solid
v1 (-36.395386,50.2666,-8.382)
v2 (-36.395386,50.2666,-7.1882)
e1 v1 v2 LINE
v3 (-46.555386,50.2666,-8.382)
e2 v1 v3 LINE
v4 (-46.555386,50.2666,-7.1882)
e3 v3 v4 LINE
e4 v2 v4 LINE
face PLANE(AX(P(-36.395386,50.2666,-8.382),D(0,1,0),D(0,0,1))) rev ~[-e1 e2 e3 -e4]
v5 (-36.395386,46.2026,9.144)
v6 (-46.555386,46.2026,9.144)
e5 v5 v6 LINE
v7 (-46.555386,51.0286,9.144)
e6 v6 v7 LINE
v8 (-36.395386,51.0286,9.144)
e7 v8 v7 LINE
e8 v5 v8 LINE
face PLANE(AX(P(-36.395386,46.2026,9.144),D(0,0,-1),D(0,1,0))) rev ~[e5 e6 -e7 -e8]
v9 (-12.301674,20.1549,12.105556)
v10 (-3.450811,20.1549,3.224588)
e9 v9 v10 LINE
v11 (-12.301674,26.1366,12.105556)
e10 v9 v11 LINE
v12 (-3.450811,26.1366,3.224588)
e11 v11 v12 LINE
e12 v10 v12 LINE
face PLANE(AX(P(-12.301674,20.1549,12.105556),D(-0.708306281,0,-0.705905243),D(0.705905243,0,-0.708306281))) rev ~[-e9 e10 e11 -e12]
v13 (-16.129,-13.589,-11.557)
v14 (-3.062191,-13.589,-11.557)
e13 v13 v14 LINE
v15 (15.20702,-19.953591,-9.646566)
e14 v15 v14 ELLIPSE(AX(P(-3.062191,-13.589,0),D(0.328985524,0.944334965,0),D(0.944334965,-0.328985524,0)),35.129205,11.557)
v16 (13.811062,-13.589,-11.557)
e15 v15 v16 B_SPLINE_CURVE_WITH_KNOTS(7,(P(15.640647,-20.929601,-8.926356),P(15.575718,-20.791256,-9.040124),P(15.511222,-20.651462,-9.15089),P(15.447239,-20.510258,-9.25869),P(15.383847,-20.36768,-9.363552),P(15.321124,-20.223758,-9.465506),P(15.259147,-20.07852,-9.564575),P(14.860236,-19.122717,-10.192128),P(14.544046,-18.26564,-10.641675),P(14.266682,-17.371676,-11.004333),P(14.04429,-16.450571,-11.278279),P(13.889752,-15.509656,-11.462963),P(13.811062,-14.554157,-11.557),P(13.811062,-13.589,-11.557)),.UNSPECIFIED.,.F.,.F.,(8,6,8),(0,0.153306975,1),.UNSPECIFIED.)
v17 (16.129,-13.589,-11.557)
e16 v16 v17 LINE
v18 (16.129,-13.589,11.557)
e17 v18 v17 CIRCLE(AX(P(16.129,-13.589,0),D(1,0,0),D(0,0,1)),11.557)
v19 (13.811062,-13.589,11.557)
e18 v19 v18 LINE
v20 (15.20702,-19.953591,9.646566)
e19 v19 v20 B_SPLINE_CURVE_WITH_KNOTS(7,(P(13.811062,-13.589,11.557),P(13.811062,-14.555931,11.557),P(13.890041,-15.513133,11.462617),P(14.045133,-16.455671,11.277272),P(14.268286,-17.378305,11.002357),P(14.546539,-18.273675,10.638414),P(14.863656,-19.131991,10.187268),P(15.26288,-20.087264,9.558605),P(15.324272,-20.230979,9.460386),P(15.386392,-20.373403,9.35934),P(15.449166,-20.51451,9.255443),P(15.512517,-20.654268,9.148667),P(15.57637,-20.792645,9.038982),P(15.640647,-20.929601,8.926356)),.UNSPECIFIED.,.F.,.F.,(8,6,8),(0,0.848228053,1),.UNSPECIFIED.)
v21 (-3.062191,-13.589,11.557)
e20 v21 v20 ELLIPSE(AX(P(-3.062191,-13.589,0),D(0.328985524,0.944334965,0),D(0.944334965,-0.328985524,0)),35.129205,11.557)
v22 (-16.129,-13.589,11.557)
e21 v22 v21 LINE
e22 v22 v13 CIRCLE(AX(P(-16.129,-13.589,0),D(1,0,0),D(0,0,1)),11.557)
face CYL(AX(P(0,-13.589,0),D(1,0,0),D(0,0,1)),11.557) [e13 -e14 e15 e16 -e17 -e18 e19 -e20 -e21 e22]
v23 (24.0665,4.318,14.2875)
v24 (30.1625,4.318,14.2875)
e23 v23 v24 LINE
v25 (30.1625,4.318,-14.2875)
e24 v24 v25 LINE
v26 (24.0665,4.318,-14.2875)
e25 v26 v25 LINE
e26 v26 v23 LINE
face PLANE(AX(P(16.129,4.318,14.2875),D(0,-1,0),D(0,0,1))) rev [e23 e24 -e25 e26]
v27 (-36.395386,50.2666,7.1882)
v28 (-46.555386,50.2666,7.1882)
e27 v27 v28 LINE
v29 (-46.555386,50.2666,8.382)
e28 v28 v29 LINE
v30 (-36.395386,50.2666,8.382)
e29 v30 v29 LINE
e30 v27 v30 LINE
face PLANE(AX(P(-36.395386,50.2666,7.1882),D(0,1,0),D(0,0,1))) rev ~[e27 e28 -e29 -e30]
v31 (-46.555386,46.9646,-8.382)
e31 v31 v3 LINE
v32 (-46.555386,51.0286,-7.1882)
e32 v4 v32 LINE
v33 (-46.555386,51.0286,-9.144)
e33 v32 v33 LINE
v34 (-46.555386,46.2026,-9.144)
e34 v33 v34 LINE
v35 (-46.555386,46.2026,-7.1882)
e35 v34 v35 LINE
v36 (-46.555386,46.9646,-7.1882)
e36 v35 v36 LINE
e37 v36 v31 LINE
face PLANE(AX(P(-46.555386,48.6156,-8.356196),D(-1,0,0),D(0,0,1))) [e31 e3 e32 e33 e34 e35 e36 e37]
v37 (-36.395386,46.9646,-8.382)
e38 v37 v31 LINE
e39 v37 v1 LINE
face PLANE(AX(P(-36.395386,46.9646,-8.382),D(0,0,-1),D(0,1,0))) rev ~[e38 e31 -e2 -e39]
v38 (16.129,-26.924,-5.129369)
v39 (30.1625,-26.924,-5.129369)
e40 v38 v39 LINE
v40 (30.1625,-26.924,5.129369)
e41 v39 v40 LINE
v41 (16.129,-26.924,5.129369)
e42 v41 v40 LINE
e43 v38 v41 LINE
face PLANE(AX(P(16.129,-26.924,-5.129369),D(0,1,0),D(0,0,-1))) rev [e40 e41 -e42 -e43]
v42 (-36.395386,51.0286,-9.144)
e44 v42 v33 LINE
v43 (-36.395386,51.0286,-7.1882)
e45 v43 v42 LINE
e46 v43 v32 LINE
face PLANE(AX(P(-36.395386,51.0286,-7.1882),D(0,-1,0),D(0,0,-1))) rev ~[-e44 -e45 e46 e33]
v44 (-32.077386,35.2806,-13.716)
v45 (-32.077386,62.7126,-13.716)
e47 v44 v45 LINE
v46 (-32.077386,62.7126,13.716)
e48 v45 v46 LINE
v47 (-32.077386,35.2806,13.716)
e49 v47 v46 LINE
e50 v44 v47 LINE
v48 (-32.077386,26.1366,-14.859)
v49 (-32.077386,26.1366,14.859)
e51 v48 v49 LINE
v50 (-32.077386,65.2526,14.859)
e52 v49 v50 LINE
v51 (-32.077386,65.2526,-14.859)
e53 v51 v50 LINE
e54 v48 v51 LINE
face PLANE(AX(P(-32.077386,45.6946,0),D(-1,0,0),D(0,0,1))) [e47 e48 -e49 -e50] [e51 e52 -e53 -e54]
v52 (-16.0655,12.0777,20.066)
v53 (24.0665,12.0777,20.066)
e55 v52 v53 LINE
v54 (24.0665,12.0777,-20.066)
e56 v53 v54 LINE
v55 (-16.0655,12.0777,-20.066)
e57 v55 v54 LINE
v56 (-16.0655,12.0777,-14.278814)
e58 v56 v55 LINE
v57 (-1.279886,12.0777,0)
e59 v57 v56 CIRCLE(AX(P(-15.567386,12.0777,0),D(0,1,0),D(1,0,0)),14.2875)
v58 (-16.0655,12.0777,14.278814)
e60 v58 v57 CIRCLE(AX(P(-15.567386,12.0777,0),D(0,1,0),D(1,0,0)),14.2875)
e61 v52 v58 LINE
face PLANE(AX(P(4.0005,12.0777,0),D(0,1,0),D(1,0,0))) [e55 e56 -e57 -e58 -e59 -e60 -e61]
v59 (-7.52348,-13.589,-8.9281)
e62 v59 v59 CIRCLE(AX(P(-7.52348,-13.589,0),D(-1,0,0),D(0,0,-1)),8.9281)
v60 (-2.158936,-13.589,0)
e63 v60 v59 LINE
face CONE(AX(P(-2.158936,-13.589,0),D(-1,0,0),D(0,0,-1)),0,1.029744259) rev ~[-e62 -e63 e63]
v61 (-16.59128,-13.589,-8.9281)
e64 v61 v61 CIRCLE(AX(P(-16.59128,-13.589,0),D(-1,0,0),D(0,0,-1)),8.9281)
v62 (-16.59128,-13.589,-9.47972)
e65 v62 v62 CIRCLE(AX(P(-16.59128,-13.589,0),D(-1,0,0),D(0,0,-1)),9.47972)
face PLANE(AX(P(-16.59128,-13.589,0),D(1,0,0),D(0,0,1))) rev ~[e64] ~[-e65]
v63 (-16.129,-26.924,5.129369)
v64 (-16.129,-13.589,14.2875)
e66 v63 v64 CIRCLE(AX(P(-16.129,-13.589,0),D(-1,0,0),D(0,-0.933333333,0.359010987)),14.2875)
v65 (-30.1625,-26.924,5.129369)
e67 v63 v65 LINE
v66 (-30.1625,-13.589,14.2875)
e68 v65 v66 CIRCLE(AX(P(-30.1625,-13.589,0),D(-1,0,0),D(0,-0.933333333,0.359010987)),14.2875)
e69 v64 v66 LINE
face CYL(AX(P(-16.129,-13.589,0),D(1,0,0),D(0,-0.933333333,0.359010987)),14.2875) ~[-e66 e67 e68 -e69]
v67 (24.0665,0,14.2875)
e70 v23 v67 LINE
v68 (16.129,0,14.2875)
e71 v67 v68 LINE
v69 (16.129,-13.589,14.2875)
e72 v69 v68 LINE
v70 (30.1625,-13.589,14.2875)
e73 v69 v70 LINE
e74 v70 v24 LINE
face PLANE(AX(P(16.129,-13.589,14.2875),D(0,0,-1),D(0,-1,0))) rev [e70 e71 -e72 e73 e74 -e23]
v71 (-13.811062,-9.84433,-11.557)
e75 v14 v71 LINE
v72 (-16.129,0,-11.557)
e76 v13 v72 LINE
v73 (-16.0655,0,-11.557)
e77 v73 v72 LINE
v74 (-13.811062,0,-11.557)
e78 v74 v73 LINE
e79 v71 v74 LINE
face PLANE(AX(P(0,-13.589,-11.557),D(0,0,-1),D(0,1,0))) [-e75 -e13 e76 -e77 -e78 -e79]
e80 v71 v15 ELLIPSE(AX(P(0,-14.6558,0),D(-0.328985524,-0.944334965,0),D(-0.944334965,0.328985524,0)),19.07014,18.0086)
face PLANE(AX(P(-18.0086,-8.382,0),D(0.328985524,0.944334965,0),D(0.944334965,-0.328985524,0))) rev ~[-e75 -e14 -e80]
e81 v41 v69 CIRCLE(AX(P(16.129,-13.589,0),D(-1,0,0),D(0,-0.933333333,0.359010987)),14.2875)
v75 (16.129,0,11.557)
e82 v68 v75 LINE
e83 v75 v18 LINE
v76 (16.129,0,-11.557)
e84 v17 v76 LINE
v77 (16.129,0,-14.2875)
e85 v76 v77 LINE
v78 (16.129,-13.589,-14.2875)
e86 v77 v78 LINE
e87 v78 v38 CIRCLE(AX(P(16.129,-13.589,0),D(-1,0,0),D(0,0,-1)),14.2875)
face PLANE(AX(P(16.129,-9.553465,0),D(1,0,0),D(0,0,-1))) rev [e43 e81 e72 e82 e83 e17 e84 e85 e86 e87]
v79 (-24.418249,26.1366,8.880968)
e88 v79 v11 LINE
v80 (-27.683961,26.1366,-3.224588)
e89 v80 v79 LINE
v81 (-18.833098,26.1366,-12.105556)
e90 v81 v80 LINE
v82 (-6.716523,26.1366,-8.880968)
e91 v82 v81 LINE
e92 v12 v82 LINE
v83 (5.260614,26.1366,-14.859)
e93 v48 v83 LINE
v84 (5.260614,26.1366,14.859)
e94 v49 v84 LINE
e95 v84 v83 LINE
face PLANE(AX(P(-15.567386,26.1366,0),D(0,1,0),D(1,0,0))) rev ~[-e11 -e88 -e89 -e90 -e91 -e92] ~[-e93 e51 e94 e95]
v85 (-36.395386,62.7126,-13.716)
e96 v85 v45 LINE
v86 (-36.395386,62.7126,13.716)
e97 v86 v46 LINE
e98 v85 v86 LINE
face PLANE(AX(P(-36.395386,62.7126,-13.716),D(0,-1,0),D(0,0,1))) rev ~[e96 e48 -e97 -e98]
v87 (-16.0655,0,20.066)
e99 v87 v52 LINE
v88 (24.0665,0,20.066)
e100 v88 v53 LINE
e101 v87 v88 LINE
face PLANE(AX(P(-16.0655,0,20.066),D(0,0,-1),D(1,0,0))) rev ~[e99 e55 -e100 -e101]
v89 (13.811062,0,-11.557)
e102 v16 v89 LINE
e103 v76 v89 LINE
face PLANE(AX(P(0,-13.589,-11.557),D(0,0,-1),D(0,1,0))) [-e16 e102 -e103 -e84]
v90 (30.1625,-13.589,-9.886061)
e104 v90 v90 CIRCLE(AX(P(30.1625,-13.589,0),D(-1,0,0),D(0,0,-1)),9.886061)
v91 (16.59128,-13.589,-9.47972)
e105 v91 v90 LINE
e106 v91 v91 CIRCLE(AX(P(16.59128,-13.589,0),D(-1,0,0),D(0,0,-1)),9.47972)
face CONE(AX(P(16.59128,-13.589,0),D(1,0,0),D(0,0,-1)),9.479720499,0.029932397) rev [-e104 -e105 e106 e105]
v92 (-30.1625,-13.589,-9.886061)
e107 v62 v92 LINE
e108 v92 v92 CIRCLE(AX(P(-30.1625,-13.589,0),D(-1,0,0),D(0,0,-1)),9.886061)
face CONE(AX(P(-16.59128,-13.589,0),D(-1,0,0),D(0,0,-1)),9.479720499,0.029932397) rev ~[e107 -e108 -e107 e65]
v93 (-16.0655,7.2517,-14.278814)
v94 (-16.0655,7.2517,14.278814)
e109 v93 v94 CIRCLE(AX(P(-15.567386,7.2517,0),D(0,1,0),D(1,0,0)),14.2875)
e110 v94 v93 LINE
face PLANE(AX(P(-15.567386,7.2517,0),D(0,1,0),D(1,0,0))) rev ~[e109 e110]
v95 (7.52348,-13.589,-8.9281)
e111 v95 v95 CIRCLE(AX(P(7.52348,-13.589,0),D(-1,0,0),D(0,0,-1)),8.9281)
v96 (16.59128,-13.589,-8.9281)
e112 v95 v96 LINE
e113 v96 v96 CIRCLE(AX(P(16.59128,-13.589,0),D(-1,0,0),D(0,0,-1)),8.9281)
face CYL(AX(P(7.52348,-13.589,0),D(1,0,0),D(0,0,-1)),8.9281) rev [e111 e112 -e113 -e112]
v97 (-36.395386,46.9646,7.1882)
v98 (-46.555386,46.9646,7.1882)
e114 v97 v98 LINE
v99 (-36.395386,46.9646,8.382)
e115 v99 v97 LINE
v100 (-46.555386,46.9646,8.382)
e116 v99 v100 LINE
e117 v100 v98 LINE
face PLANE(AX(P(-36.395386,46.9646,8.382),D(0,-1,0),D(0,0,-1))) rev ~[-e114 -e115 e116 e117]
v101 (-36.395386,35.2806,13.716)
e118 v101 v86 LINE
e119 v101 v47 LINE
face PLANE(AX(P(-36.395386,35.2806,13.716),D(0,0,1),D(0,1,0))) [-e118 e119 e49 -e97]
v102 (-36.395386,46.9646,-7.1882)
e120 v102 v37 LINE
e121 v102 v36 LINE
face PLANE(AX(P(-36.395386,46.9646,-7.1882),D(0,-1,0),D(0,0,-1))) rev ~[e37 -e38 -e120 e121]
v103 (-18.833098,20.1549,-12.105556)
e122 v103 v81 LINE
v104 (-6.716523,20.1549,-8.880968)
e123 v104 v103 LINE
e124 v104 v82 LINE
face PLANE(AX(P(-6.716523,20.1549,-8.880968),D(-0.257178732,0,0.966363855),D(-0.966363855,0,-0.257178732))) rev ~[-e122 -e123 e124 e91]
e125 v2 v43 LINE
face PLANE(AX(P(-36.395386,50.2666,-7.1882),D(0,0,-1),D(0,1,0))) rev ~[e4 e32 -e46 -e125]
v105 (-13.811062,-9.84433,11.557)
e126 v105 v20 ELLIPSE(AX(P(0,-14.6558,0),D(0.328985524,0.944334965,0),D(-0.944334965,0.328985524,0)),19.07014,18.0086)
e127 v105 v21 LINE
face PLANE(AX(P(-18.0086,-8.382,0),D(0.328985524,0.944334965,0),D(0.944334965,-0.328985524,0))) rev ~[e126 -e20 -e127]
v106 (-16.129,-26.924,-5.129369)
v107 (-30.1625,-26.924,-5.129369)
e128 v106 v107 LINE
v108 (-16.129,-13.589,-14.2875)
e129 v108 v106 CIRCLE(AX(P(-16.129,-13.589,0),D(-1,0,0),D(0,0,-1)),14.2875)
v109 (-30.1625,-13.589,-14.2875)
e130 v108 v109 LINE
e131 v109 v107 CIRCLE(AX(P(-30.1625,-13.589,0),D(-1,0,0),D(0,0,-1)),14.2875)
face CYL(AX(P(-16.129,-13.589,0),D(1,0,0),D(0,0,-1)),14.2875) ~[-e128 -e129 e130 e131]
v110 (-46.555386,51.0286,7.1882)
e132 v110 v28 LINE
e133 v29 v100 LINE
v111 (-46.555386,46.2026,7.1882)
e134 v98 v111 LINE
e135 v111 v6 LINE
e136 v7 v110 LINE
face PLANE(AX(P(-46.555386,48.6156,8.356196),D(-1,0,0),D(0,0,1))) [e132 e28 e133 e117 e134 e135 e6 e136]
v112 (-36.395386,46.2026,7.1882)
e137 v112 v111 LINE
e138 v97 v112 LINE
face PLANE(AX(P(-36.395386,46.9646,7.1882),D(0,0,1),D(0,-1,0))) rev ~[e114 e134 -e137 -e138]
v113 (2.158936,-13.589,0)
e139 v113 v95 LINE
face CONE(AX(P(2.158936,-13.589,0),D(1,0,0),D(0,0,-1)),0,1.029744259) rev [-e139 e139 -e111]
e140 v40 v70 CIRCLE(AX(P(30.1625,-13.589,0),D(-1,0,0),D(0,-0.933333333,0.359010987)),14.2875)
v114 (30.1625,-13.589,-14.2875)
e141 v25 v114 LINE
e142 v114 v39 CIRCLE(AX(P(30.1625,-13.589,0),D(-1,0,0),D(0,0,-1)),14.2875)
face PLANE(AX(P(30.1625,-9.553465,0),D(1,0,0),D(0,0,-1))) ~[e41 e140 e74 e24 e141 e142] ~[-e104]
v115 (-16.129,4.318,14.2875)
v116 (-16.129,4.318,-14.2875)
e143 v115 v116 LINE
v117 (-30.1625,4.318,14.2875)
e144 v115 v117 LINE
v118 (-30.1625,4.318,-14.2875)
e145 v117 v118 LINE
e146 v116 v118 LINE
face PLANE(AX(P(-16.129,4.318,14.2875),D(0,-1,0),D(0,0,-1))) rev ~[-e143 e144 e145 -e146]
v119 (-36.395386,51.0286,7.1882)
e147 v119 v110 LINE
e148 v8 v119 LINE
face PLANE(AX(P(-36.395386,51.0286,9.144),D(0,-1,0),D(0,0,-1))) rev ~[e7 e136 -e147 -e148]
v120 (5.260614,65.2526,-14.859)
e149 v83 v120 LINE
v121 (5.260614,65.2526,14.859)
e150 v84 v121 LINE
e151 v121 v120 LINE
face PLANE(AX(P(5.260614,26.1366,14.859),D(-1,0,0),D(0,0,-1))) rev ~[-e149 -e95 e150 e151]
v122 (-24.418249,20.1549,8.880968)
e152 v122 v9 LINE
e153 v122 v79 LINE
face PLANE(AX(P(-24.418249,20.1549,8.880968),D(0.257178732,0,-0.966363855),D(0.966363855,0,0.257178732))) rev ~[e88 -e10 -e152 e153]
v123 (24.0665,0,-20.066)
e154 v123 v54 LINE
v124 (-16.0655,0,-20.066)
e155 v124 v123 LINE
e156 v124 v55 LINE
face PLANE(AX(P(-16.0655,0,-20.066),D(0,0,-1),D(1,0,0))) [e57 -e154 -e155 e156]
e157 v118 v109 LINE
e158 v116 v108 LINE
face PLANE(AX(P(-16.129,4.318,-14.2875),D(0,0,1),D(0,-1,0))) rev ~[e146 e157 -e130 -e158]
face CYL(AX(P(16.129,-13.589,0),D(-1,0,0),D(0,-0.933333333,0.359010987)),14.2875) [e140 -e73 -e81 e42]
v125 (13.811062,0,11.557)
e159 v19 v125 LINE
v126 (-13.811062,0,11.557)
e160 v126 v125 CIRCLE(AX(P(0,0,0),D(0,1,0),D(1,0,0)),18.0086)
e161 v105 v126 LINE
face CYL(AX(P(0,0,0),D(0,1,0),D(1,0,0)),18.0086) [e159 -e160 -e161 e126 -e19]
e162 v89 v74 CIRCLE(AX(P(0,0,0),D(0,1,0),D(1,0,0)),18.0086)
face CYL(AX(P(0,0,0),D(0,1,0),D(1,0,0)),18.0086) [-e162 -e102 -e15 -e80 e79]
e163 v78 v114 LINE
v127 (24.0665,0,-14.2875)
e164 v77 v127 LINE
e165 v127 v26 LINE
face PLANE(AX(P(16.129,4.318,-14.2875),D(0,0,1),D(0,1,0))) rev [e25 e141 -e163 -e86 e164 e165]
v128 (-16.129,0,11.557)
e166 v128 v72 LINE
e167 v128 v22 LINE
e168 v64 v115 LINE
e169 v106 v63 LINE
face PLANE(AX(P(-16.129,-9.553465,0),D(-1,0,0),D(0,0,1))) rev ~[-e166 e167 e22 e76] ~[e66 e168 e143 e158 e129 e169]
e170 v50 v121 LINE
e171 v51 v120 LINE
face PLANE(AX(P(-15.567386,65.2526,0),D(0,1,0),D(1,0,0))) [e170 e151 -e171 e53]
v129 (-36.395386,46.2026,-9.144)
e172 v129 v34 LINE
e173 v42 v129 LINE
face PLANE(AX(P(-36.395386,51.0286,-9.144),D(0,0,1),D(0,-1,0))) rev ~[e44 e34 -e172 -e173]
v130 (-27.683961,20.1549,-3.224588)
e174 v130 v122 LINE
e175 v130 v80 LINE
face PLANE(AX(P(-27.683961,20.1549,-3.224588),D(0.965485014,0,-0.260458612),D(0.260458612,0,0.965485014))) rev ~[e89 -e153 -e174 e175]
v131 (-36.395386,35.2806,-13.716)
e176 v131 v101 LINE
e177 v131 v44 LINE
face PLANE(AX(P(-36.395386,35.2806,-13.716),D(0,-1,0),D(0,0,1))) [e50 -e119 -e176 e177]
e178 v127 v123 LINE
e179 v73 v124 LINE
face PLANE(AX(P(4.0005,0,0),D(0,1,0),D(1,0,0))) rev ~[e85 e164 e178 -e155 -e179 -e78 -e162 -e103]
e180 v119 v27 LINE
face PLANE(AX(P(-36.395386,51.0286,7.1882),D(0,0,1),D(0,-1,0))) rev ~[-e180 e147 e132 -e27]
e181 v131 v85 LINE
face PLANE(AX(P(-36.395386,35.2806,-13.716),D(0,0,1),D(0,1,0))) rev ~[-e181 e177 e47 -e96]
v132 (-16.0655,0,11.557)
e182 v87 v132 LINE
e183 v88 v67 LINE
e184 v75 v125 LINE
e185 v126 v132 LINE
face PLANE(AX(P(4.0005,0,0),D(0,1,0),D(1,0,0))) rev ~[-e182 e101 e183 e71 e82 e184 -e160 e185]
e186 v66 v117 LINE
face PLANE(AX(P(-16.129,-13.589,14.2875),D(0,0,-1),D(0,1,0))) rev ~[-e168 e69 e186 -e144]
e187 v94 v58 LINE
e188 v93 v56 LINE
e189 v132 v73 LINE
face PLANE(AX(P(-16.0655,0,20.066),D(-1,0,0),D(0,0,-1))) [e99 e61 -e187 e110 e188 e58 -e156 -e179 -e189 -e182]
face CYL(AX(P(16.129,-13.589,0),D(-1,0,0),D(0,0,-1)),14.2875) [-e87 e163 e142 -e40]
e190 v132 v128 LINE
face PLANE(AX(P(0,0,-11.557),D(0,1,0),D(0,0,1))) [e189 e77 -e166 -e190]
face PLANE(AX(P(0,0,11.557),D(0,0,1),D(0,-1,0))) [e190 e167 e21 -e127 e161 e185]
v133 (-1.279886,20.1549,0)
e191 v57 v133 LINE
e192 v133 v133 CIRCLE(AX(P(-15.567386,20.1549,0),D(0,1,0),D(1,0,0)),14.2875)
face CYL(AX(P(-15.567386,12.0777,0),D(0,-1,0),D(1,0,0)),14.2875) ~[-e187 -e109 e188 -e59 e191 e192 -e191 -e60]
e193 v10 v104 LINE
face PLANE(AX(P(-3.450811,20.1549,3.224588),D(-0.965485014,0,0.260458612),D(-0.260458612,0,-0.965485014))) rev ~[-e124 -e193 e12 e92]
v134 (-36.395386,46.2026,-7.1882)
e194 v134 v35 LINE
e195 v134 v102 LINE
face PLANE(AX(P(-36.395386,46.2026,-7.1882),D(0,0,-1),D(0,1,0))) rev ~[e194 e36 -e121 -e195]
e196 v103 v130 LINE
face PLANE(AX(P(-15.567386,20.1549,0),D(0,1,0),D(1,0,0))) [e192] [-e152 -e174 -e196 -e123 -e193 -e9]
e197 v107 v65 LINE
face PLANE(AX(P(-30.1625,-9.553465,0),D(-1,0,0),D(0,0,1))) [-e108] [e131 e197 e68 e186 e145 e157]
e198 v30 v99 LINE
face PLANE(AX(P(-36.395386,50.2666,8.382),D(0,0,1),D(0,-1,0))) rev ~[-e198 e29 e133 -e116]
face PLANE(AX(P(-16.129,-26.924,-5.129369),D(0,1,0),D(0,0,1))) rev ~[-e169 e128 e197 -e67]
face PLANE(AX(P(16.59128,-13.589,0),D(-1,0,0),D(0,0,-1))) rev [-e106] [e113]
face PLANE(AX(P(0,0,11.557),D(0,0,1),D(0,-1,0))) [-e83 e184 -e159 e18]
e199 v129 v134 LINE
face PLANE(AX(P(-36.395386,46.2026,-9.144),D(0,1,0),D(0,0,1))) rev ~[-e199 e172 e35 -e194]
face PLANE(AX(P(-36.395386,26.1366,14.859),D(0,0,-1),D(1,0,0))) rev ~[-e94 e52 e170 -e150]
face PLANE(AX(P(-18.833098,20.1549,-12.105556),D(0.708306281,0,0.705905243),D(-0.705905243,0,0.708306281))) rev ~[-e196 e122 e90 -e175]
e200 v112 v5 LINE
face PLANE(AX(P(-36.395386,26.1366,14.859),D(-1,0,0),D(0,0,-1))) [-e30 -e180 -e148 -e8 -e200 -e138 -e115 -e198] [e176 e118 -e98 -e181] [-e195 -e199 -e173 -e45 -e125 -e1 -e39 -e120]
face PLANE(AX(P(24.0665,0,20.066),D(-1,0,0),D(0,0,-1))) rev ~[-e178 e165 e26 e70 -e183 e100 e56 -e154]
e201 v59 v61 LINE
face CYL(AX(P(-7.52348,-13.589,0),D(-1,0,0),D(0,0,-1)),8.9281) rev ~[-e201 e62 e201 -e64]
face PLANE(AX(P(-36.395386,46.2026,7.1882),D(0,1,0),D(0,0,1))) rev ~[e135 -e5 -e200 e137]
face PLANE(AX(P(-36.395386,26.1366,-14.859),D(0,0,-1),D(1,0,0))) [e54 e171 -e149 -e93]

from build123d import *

# Parameters (mm, degrees)
SKETCH1_R                = 18.0086
BOSS_EXTRUDE1_DEPTH      = 20.9296
CUT_EXTRUDE1_DEPTH       = 19.0086
CUT_EXTRUDE1_DEPTH_BACK  = 19.0086
BOSS_EXTRUDE2_DEPTH      = 16.129
BOSS_EXTRUDE3_DEPTH      = 14.0335
SKETCH6_W                = 40.132
SKETCH6_H                = 40.132
BOSS_EXTRUDE4_DEPTH      = 12.0777
SKETCH7_R                = 14.2875
BOSS_EXTRUDE5_DEPTH      = 8.0772
BOSS_EXTRUDE5_DEPTH_BACK = 4.826
BOSS_EXTRUDE6_DEPTH      = 5.9817
SKETCH11_W               = 41.656
SKETCH11_H               = 29.718
BOSS_EXTRUDE7_DEPTH      = 39.116
SKETCH12_W               = 29.718
SKETCH12_H               = 39.116
SKETCH12_W_2             = 27.432
SKETCH12_H_2             = 27.432
CUT_EXTRUDE2_DEPTH       = 4.318
BOSS_EXTRUDE8_DEPTH      = 10.16


with BuildPart() as part:
    # Sketch1 → Boss-Extrude1 (new body)
    with BuildSketch(Plane(origin=(0, 0, 0), x_dir=(1, 0, 0), z_dir=(0, 1, 0))):
        Circle(SKETCH1_R)
    extrude(amount=-BOSS_EXTRUDE1_DEPTH)

    # Sketch2 → Cut-Extrude1 (cut, two sides)
    with BuildSketch(Plane.XY) as cut_extrude1_sk:
        Polygon((-18.0086, -8.382), (18.0086, -20.9296), (-18.0086, -20.9296), align=None)
    extrude(amount=CUT_EXTRUDE1_DEPTH, mode=Mode.SUBTRACT)
    extrude(cut_extrude1_sk.sketch, amount=-CUT_EXTRUDE1_DEPTH_BACK, mode=Mode.SUBTRACT)

    # Sketch3 → Boss-Extrude2 (add, symmetric)
    with BuildSketch(Plane(origin=(0, 0, 0), x_dir=(0, 0, -1), z_dir=(1, 0, 0))):
        with BuildLine():
            Line((-11.557, 0), (-11.557, -13.589))
            ThreePointArc((-11.557, -13.589), (0, -25.146), (11.557, -13.589))
            Line((11.557, -13.589), (11.557, 0))
            Line((11.557, 0), (-11.557, 0))
        make_face()
    extrude(amount=BOSS_EXTRUDE2_DEPTH, both=True)

    # Sketch5 → Boss-Extrude3 (add)
    with BuildSketch(Plane.ZY.offset(16.129)):
        with BuildLine():
            Line((-14.2875, 4.318), (-14.2875, -13.589))
            ThreePointArc((-14.2875, -13.589), (-11.777489603, -21.677472965), (-5.129369479, -26.924))
            Line((-5.129369479, -26.924), (5.129369479, -26.924))
            ThreePointArc((5.129369479, -26.924), (11.777489603, -21.677472965), (14.2875, -13.589))
            Line((14.2875, -13.589), (14.2875, 4.318))
            Line((14.2875, 4.318), (-14.2875, 4.318))
        make_face()
    boss_extrude3 = extrude(amount=BOSS_EXTRUDE3_DEPTH)

    # Mirror1: Boss-Extrude3 across plane
    add(boss_extrude3.mirror(Plane(origin=(0, 0, 0), x_dir=(0, 0, 1), z_dir=(1, 0, 0))))

    # Sketch6 → Boss-Extrude4 (add)
    with BuildSketch(Plane(origin=(0, 0, 0), x_dir=(1, 0, 0), z_dir=(0, 1, 0))):
        with Locations((4.0005, 0)):
            Rectangle(SKETCH6_W, SKETCH6_H)
    extrude(amount=BOSS_EXTRUDE4_DEPTH)

    # Sketch7 → Boss-Extrude5 (add, two sides)
    with BuildSketch(Plane(origin=(0, 12.0777, 0), x_dir=(1, 0, 0), z_dir=(0, 1, 0))) as boss_extrude5_sk:
        with Locations((-15.56738583, 0)):
            Circle(SKETCH7_R)
    extrude(amount=BOSS_EXTRUDE5_DEPTH)
    extrude(boss_extrude5_sk.sketch, amount=-BOSS_EXTRUDE5_DEPTH_BACK)

    # Sketch8 → 1/2 NPT Tapped Hole1 (revolve, cut)
    with BuildSketch(Plane(origin=(30.1625, -13.589, 0), x_dir=(0, 0, -1), z_dir=(0, 1, 0))):
        Polygon((0, 0), (0, 28.003563693), (8.9281, 22.63902), (8.9281, 13.57122), (9.479720499, 13.57122), (9.886061, 0), align=None)
    f_1_2_npt_tapped_hole1 = revolve(axis=Axis((36.5125, -13.589, 0), (-1, 0, 0)), mode=Mode.SUBTRACT)

    # Mirror2: 1/2 NPT Tapped Hole1 across plane
    add(f_1_2_npt_tapped_hole1.mirror(Plane(origin=(0, 0, 0), x_dir=(0, 0, 1), z_dir=(1, 0, 0))), mode=Mode.SUBTRACT)

    # Sketch10 → Boss-Extrude6 (add)
    with BuildSketch(Plane(origin=(0, 20.1549, 0), x_dir=(1, 0, 0), z_dir=(0, 1, 0))):
        Polygon((-6.716522972, 8.880967834), (-18.833098156, 12.105555998), (-27.683961014, 3.224588164), (-24.418248689, -8.880967834), (-12.301673505, -12.105555998), (-3.450810647, -3.224588164), align=None)
    extrude(amount=BOSS_EXTRUDE6_DEPTH)

    # Sketch11 → Boss-Extrude7 (add)
    with BuildSketch(Plane(origin=(0, 26.1366, 0), x_dir=(1, 0, 0), z_dir=(0, 1, 0))):
        with Locations((-15.56738583, 0)):
            Rectangle(SKETCH11_W, SKETCH11_H)
    extrude(amount=BOSS_EXTRUDE7_DEPTH)

    # Sketch12 → Cut-Extrude2 (cut)
    with BuildSketch(Plane.ZY.offset(36.39538583)):
        with Locations((0, 45.6946)):
            Rectangle(SKETCH12_W, SKETCH12_H)
        with Locations((0, 48.9966)):
            Rectangle(SKETCH12_W_2, SKETCH12_H_2, mode=Mode.SUBTRACT)
    extrude(amount=-CUT_EXTRUDE2_DEPTH, mode=Mode.SUBTRACT)

    # Sketch13 → Boss-Extrude8 (add)
    with BuildSketch(Plane.ZY.offset(36.39538583)):
        Polygon((-7.1882, 51.0286), (-9.144, 51.0286), (-9.144, 46.2026), (-7.1882, 46.2026), (-7.1882, 46.9646), (-8.382, 46.9646), (-8.382, 50.2666), (-7.1882, 50.2666), align=None)
        Polygon((7.1882, 46.9646), (7.1882, 46.2026), (9.144, 46.2026), (9.144, 51.0286), (7.1882, 51.0286), (7.1882, 50.2666), (8.382, 50.2666), (8.382, 46.9646), align=None)
    extrude(amount=BOSS_EXTRUDE8_DEPTH)


solid = part.part
